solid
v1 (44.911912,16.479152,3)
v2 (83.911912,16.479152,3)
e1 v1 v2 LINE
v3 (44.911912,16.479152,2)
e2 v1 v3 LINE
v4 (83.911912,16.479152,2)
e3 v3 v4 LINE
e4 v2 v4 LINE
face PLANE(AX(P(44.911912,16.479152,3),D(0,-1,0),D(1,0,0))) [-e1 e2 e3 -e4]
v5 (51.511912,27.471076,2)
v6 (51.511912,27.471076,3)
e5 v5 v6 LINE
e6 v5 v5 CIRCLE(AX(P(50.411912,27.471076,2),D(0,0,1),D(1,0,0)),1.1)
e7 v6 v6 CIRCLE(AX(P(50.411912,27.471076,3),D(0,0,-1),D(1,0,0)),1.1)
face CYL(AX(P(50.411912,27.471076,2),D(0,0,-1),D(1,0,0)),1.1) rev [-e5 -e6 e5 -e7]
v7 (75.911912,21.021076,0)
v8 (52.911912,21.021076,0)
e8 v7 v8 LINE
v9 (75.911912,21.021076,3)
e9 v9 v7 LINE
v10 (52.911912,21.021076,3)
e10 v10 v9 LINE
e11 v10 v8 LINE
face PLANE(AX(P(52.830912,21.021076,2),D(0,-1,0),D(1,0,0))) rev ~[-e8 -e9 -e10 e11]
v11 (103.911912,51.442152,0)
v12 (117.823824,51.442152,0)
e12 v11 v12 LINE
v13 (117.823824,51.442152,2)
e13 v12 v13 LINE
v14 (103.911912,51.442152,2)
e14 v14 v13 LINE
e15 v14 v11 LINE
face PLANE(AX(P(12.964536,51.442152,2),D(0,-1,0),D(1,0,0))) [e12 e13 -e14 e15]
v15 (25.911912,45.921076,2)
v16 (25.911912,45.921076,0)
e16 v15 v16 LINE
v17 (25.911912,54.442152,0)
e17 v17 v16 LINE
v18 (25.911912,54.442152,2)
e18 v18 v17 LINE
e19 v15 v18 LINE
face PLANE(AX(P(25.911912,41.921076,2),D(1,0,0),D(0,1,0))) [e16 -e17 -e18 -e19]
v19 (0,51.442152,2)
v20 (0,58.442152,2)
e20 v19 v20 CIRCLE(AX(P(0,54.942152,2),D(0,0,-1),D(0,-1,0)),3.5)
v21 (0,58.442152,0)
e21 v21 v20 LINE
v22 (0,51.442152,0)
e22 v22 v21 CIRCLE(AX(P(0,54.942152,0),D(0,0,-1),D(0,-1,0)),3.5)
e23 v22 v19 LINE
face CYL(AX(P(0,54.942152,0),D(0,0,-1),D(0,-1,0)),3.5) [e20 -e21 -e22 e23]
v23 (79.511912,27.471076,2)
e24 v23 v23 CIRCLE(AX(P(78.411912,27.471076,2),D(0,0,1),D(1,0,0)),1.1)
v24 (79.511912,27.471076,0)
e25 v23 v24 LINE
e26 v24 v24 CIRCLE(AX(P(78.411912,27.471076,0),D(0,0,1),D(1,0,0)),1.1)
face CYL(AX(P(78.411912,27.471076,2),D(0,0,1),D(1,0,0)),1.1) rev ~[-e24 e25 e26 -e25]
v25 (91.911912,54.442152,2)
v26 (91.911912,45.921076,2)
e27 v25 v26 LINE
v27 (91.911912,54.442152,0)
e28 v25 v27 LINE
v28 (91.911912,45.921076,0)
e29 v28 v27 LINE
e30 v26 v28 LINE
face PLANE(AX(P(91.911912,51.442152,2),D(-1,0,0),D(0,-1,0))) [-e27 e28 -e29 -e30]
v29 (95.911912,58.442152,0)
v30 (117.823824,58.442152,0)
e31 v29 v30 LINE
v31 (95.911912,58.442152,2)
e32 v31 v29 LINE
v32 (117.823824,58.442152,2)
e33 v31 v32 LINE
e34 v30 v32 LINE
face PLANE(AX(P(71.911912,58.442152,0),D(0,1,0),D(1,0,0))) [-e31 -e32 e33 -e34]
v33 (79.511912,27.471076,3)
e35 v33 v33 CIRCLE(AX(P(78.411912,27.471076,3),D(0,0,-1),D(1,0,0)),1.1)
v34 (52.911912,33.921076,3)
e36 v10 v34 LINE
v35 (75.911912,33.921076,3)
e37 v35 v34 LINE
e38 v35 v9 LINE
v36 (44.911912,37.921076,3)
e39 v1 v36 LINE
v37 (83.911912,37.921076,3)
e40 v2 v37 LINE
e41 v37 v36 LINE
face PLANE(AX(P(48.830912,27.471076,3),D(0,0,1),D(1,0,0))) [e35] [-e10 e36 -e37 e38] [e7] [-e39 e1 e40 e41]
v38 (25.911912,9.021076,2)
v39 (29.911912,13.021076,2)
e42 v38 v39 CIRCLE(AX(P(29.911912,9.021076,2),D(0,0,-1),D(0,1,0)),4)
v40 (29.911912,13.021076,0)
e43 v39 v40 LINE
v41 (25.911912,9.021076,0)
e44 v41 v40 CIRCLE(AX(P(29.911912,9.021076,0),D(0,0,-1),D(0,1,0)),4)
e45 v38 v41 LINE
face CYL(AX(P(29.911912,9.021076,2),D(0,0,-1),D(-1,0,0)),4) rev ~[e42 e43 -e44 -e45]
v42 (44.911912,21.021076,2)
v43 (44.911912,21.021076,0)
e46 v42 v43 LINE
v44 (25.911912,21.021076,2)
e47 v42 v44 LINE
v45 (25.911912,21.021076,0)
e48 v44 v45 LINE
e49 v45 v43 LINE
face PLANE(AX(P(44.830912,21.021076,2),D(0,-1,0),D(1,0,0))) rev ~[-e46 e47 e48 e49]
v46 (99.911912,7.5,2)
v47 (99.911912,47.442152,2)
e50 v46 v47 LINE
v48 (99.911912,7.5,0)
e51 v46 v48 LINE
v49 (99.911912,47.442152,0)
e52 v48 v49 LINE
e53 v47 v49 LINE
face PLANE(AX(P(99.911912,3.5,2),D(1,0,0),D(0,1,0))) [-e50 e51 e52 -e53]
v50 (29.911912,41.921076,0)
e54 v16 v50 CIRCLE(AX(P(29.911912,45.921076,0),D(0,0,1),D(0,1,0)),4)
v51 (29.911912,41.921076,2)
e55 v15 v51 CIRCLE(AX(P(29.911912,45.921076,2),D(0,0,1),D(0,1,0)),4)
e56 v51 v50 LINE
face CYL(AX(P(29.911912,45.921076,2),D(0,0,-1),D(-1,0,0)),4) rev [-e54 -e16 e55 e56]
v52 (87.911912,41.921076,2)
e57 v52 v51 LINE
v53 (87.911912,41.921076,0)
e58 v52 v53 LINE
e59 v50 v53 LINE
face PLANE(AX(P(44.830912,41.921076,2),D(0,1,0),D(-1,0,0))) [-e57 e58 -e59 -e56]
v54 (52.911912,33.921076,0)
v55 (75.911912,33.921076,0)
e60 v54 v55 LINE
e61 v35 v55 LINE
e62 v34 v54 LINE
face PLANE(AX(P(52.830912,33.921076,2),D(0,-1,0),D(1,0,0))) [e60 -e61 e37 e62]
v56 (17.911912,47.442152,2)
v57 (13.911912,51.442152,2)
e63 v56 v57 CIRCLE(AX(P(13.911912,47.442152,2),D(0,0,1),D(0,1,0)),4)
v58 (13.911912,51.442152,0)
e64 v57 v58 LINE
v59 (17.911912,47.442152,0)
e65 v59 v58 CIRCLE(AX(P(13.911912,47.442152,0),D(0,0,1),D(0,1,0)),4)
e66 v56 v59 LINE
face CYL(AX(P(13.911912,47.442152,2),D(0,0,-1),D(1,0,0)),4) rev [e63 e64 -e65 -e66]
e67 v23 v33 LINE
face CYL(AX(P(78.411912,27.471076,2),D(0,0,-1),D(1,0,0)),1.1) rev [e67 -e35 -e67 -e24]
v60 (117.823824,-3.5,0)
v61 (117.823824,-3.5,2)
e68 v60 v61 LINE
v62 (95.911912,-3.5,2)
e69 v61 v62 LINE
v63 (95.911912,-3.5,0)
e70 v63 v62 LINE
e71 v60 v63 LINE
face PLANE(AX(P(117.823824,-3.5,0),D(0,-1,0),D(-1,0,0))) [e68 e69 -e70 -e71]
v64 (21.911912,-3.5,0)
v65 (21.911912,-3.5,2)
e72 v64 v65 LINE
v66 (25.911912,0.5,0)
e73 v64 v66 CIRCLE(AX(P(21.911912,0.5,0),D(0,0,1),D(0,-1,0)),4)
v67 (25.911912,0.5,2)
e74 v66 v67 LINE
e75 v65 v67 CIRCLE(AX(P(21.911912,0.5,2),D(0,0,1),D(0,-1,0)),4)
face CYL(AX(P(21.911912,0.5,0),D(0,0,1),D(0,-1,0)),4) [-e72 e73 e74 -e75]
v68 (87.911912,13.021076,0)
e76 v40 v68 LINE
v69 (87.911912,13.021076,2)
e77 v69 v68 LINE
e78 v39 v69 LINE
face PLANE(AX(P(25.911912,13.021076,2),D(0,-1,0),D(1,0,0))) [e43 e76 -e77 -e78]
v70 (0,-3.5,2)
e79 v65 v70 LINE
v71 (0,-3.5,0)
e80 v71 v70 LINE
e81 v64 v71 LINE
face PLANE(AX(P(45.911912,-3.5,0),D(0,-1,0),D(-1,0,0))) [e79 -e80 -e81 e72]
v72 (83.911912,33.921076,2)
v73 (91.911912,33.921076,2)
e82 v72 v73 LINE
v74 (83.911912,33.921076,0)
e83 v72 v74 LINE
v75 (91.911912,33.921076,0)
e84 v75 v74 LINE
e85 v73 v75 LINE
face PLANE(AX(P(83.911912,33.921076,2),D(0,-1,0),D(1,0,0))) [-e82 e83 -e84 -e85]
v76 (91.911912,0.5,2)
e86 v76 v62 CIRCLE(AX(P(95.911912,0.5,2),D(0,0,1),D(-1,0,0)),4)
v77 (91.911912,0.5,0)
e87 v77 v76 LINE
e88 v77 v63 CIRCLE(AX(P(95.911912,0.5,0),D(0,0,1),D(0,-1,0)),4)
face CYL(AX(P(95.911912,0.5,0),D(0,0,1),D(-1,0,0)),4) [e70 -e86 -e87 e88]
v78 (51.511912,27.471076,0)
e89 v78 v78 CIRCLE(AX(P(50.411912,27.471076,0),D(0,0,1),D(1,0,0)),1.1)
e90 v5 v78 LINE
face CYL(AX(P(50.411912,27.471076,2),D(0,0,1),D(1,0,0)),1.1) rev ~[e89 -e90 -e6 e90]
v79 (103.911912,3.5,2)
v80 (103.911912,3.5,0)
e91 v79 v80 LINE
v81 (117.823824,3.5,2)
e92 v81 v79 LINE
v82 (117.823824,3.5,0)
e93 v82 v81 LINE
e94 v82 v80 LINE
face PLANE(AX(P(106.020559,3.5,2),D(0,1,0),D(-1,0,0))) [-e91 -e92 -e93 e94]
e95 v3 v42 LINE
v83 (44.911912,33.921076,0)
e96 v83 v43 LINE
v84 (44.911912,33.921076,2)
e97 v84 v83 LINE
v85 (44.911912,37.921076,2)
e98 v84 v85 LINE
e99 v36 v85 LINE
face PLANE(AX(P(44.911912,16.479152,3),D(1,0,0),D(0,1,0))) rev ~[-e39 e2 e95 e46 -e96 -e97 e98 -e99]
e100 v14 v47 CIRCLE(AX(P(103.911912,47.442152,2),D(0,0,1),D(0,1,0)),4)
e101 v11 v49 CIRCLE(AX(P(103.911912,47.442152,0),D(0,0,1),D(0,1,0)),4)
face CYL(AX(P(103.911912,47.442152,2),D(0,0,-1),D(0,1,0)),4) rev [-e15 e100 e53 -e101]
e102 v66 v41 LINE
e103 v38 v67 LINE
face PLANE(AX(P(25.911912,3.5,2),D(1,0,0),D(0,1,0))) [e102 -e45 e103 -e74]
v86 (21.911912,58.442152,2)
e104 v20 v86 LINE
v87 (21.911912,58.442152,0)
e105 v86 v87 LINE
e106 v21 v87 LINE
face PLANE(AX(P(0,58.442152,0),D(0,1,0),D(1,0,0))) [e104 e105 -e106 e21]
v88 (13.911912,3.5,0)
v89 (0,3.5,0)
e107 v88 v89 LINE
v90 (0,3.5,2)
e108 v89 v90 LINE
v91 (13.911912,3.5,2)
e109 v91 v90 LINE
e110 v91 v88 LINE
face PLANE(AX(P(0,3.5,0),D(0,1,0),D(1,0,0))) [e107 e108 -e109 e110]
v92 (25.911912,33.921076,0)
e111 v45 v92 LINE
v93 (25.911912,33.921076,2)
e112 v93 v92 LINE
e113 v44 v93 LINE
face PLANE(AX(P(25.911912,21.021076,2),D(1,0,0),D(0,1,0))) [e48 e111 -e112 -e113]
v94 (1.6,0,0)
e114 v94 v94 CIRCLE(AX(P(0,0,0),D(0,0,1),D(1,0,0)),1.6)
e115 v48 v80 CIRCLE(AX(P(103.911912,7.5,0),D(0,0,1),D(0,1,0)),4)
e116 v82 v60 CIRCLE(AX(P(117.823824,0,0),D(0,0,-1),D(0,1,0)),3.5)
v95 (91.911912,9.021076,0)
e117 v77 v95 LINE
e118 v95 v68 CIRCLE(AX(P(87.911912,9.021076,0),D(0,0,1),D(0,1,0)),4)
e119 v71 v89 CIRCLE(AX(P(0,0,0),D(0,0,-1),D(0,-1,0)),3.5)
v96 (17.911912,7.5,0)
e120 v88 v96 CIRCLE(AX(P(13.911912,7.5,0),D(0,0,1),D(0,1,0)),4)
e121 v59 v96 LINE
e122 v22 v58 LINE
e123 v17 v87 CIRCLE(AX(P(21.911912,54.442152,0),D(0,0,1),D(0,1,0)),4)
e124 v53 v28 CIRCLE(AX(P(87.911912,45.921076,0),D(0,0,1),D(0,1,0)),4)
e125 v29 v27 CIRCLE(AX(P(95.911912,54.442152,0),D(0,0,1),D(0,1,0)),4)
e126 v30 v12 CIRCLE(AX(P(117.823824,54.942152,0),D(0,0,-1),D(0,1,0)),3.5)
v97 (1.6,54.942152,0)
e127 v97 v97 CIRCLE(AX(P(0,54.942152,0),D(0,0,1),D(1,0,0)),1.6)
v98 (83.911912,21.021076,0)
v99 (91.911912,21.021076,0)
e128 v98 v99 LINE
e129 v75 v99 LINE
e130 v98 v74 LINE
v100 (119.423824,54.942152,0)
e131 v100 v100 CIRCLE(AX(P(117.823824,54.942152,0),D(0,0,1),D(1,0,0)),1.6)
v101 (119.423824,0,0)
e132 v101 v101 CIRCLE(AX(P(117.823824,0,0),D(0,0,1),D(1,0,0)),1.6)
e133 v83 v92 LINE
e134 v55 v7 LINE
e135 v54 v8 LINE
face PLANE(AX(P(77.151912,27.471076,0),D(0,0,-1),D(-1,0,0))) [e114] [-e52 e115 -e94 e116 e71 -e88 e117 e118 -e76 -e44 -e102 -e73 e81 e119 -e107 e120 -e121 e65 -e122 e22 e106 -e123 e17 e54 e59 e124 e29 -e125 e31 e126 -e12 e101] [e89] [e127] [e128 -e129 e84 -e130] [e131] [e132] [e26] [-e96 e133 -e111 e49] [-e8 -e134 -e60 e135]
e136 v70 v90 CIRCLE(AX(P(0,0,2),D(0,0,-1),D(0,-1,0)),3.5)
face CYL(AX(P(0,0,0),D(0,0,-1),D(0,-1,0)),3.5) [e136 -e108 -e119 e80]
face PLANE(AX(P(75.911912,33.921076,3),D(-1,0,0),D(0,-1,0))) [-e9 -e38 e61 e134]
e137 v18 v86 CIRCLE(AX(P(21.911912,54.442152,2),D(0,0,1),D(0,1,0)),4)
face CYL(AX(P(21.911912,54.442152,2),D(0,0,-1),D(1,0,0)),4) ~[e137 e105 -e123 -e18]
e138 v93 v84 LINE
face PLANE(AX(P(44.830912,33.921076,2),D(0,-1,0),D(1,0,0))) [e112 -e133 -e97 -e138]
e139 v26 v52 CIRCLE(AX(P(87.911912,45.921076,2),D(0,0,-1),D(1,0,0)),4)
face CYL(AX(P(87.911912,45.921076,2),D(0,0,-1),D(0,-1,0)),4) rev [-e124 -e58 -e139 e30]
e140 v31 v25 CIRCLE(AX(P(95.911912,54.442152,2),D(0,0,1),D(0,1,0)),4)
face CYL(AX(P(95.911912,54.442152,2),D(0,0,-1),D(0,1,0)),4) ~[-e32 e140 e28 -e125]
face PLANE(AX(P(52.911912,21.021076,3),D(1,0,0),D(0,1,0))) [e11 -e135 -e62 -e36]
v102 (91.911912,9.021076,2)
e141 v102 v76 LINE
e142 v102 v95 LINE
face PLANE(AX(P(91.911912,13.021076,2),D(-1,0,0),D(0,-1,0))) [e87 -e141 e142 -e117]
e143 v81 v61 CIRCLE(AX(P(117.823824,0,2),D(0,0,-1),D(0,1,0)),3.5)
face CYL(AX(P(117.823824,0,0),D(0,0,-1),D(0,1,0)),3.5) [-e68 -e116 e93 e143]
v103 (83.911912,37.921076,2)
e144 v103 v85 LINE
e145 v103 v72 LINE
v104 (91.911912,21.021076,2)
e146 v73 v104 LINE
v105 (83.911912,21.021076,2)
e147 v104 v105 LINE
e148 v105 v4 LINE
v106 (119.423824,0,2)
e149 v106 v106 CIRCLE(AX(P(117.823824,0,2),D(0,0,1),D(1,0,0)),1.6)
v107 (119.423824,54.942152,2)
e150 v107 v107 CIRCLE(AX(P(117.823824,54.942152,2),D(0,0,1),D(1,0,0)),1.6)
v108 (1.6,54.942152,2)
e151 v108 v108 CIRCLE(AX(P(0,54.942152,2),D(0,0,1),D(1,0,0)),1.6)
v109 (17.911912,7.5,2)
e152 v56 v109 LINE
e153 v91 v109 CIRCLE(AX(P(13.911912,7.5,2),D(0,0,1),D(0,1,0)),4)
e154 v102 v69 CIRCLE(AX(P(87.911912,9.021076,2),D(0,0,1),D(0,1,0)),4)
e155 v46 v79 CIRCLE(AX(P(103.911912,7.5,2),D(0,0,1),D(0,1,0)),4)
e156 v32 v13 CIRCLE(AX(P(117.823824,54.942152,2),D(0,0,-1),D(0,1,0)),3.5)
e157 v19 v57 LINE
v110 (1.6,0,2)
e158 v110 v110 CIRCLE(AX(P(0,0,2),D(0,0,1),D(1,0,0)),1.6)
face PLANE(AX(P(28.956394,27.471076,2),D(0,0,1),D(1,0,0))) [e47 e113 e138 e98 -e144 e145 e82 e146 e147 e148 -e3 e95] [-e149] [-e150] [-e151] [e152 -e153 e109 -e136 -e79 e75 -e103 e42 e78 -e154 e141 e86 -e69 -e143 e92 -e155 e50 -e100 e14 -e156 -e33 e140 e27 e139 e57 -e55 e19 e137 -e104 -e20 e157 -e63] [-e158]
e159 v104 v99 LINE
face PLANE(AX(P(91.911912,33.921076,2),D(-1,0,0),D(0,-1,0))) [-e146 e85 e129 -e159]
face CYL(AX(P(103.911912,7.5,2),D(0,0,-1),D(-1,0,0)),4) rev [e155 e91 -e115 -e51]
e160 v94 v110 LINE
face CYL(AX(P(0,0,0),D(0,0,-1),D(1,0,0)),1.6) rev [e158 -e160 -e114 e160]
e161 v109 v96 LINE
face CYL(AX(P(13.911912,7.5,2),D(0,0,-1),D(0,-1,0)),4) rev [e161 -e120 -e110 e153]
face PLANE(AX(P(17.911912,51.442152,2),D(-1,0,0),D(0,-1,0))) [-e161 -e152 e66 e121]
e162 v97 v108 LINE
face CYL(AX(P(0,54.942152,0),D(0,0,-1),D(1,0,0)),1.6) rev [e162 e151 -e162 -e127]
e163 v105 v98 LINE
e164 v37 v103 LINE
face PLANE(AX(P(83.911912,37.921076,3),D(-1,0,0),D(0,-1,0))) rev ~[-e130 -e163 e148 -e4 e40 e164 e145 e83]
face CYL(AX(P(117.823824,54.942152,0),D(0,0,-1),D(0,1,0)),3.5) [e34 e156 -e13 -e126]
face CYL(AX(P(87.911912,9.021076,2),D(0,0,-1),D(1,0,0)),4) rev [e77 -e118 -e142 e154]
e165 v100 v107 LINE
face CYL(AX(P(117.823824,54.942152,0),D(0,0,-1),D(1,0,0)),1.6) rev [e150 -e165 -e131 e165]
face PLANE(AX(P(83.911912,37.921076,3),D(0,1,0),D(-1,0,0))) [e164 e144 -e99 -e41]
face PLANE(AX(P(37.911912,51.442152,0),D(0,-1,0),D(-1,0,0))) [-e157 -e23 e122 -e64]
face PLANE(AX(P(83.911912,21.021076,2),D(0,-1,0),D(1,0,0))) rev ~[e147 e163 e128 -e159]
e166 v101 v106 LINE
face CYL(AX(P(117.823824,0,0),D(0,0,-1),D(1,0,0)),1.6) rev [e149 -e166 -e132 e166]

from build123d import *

# Parameters (mm, degrees)
SKETCH1_R                = 1.6
SKETCH1_R_2              = 2.1
BOSS_EXTRUDE3_DEPTH      = 2
BOSS_EXTRUDE4_DEPTH      = 2
SKETCH4_W                = 66
SKETCH4_H                = 16.340111315
SKETCH4_H_2              = 24.741581589
CUT_EXTRUDE3_DEPTH       = 14.5
FILLET1_R                = 4
SKETCH5_W                = 26
SKETCH5_H                = 27
SKETCH5_R                = 6
BOSS_EXTRUDE5_DEPTH      = 2
SKETCH6_W                = 5
SKETCH6_H                = 27
CUT_EXTRUDE4_DEPTH       = 14.5
SKETCH7_R                = 2.5
BOSS_EXTRUDE6_DEPTH      = 2
SKETCH8_R                = 2.5
CUT_EXTRUDE5_DEPTH       = 10
SKETCH9_W                = 22.081
SKETCH9_H                = 27
CUT_EXTRUDE6_DEPTH       = 10
CUT_EXTRUDE7_DEPTH       = 10
SKETCH11_W               = 28.061
SKETCH11_H               = 7.05
BOSS_EXTRUDE7_DEPTH      = 2
SKETCH12_W               = 44.061
SKETCH12_H               = 28.9
CUT_EXTRUDE9_DEPTH       = 10
BOSS_EXTRUDE9_DEPTH      = 2
FILLET2_R                = 4
SKETCH14_R               = 2.5
SKETCH14_W               = 28.061
SKETCH14_H               = 12.9
BOSS_EXTRUDE10_DEPTH     = 1
SKETCH15_W               = 3
SKETCH15_H               = 12.9
BOSS_EXTRUDE11_DEPTH     = 2.5
SKETCH16_W               = 3
SKETCH16_H               = 12.9
BOSS_EXTRUDE12_DEPTH     = 2.5
SKETCH17_W               = 6
SKETCH17_H               = 12.9
CUT_EXTRUDE12_DEPTH      = 5.5
BOSS_EXTRUDE13_DEPTH     = 3
CUT_EXTRUDE13_DEPTH      = 1
SKETCH21_W               = 0.081
SKETCH21_H               = 12.9
SKETCH21_W_2             = 4.98
CUT_EXTRUDE14_DEPTH      = 5.5
SKETCH22_R               = 2.5
BOSS_EXTRUDE14_DEPTH     = 3
SKETCH23_R               = 1.1
CUT_EXTRUDE17_DEPTH      = 5.5
CUT_EXTRUDE17_DEPTH_BACK = 5.5


with BuildPart() as part:
    # Sketch1 → Boss-Extrude3 (new body)
    with BuildSketch(Plane.XY):
        with BuildLine():
            Line((0, 3.5), (37.911912125, 3.5))
            Line((37.911912125, 3.5), (37.911912125, 13.97107578))
            Line((37.911912125, 13.97107578), (37.911912125, 40.97107578))
            Line((37.911912125, 40.97107578), (37.911912125, 51.44215156))
            Line((37.911912125, 51.44215156), (0, 51.44215156))
            ThreePointArc((0, 51.44215156), (-3.5, 54.94215156), (0, 58.44215156))
            Line((0, 58.44215156), (45.911912125, 58.44215156))
            Line((45.911912125, 58.44215156), (45.911912125, 51.44215156))
            Line((45.911912125, 51.44215156), (45.911912125, 48.97107578))
            Line((45.911912125, 48.97107578), (50.911912125, 48.97107578))
            Line((50.911912125, 48.97107578), (66.911912125, 48.97107578))
            Line((66.911912125, 48.97107578), (71.911912125, 48.97107578))
            Line((71.911912125, 48.97107578), (71.911912125, 51.44215156))
            Line((71.911912125, 51.44215156), (71.911912125, 58.44215156))
            Line((71.911912125, 58.44215156), (117.82382425, 58.44215156))
            ThreePointArc((117.82382425, 58.44215156), (121.32382425, 54.94215156), (117.82382425, 51.44215156))
            Line((117.82382425, 51.44215156), (79.911912125, 51.44215156))
            Line((79.911912125, 51.44215156), (79.911912125, 40.97107578))
            Line((79.911912125, 40.97107578), (79.911912125, 13.97107578))
            Line((79.911912125, 13.97107578), (79.911912125, 3.5))
            Line((79.911912125, 3.5), (117.82382425, 3.5))
            ThreePointArc((117.82382425, 3.5), (121.32382425, 0), (117.82382425, -3.5))
            Line((117.82382425, -3.5), (71.911912125, -3.5))
            Line((71.911912125, -3.5), (71.911912125, 3.5))
            Line((71.911912125, 3.5), (71.911912125, 5.97107578))
            Line((71.911912125, 5.97107578), (66.911912125, 5.97107578))
            Line((66.911912125, 5.97107578), (50.911912125, 5.97107578))
            Line((50.911912125, 5.97107578), (45.911912125, 5.97107578))
            Line((45.911912125, 5.97107578), (45.911912125, 3.5))
            Line((45.911912125, 3.5), (45.911912125, -3.5))
            Line((45.911912125, -3.5), (0, -3.5))
            ThreePointArc((0, -3.5), (-3.5, 0), (0, 3.5))
        make_face()
        with Locations((0, 54.94215156)):
            Circle(SKETCH1_R, mode=Mode.SUBTRACT)
        with Locations((117.82382425, 54.94215156)):
            Circle(SKETCH1_R, mode=Mode.SUBTRACT)
        with Locations((117.82382425, 0)):
            Circle(SKETCH1_R, mode=Mode.SUBTRACT)
        Circle(SKETCH1_R, mode=Mode.SUBTRACT)
        with Locations((66.911912125, 44.97107578)):
            Circle(SKETCH1_R_2, mode=Mode.SUBTRACT)
        with Locations((66.911912125, 9.97107578)):
            Circle(SKETCH1_R_2, mode=Mode.SUBTRACT)
        with Locations((50.911912125, 9.97107578)):
            Circle(SKETCH1_R_2, mode=Mode.SUBTRACT)
        with Locations((50.911912125, 44.97107578)):
            Circle(SKETCH1_R_2, mode=Mode.SUBTRACT)
        Polygon((66.911912125, 40.97107578), (50.911912125, 40.97107578), (45.911912125, 40.97107578), (45.911912125, 27.47107578), (45.911912125, 13.97107578), (50.911912125, 13.97107578), (66.911912125, 13.97107578), (71.911912125, 13.97107578), (71.911912125, 27.47107578), (71.911912125, 40.97107578), align=None, mode=Mode.SUBTRACT)
    extrude(amount=BOSS_EXTRUDE3_DEPTH)

    # Sketch3 → Boss-Extrude4 (add)
    with BuildSketch(Plane.XY.offset(2)):
        Polygon((71.911912125, 13.97107578), (99.911912125, 13.97107578), (99.911912125, 3.5), (91.911912125, 3.5), (91.911912125, 5.97107578), (71.911912125, 5.97107578), align=None)
        Polygon((91.911912125, 51.44215156), (99.911912125, 51.44215156), (99.911912125, 40.97107578), (71.911912125, 40.97107578), (71.911912125, 48.97107578), (91.911912125, 48.97107578), align=None)
        Polygon((45.911912125, 40.97107578), (17.911912125, 40.97107578), (17.911912125, 51.44215156), (25.911912125, 51.44215156), (25.911912125, 48.97107578), (45.911912125, 48.97107578), align=None)
        Polygon((25.911912125, 3.5), (17.911912125, 3.5), (17.911912125, 13.97107578), (45.911912125, 13.97107578), (45.911912125, 5.97107578), (25.911912125, 5.97107578), align=None)
    extrude(amount=-BOSS_EXTRUDE4_DEPTH)

    # Sketch4 → Cut-Extrude3 (cut)
    with BuildSketch(Plane.XY.offset(2)):
        with Locations((58.911912125, 57.141131438)):
            Rectangle(SKETCH4_W, SKETCH4_H)
        with Locations((58.911912125, -6.399715014)):
            Rectangle(SKETCH4_W, SKETCH4_H_2)
    extrude(amount=-CUT_EXTRUDE3_DEPTH, mode=Mode.SUBTRACT)

    # Fillet1
    fillet1_edges = [part.edges().sort_by_distance(p)[0] for p in [
        (99.911912125, 13.97107578, 1),
        (99.911912125, 3.5, 1),
        (91.911912125, 5.97107578, 1),
        (91.911912125, 48.97107578, 1),
        (99.911912125, 51.44215156, 1),
        (99.911912125, 40.97107578, 1),
        (17.911912125, 40.97107578, 1),
        (17.911912125, 51.44215156, 1),
        (25.911912125, 48.97107578, 1),
        (25.911912125, 5.97107578, 1),
        (17.911912125, 3.5, 1),
        (17.911912125, 13.97107578, 1),
        (91.911912125, 58.44215156, 1),
        (25.911912125, 58.44215156, 1),
        (91.911912125, -3.5, 1),
        (25.911912125, -3.5, 1),
    ]]
    fillet(fillet1_edges, radius=FILLET1_R)

    # Sketch5 → Boss-Extrude5 (add)
    with BuildSketch(Plane.XY.offset(2)):
        with Locations((58.911912125, 27.47107578)):
            Rectangle(SKETCH5_W, SKETCH5_H)
        with Locations((58.911912125, 27.47107578)):
            Circle(SKETCH5_R, mode=Mode.SUBTRACT)
    extrude(amount=-BOSS_EXTRUDE5_DEPTH)

    # Sketch6 → Cut-Extrude4 (cut)
    with BuildSketch(Plane.XY.offset(2)):
        with Locations((40.411912125, 27.47107578)):
            Rectangle(SKETCH6_W, SKETCH6_H)
        with Locations((77.411912125, 27.47107578)):
            Rectangle(SKETCH6_W, SKETCH6_H)
    extrude(amount=-CUT_EXTRUDE4_DEPTH, mode=Mode.SUBTRACT)

    # Sketch7 → Boss-Extrude6 (add)
    with BuildSketch(Plane.XY.offset(2)):
        Polygon((80.891912125, 27.47107578), (80.891912125, 40.97107578), (88.891912125, 40.97107578), (88.891912125, 27.47107578), (88.891912125, 13.97107578), (80.891912125, 13.97107578), align=None)
        with Locations((84.891912125, 27.47107578)):
            Circle(SKETCH7_R, mode=Mode.SUBTRACT)
    extrude(amount=-BOSS_EXTRUDE6_DEPTH)

    # Sketch8 → Cut-Extrude5 (cut)
    with BuildSketch(Plane.XY.offset(2)):
        with Locations((48.830912125, 27.47107578)):
            Circle(SKETCH8_R)
    extrude(amount=-CUT_EXTRUDE5_DEPTH, mode=Mode.SUBTRACT)

    # Sketch9 → Cut-Extrude6 (cut)
    with BuildSketch(Plane.XY.offset(2)):
        Polygon((42.911912125, 40.97107578), (44.830912125, 40.97107578), (44.830912125, 27.47107578), (44.830912125, 13.97107578), (42.911912125, 13.97107578), align=None)
        with Locations((63.871412125, 27.47107578)):
            Rectangle(SKETCH9_W, SKETCH9_H)
    extrude(amount=-CUT_EXTRUDE6_DEPTH, mode=Mode.SUBTRACT)

    # Sketch10 → Cut-Extrude7 (cut)
    with BuildSketch(Plane.XY.offset(2)):
        Polygon((44.830912125, 13.97107578), (44.830912125, 13.02107578), (88.891912125, 13.02107578), (88.891912125, 13.97107578), (106.020559472, 13.97107578), (106.020559472, 3.5), (12.964535502, 3.5), (12.964535502, 13.97107578), align=None)
        Polygon((88.891912125, 40.97107578), (88.891912125, 41.92107578), (44.830912125, 41.92107578), (44.830912125, 40.97107578), (12.964535502, 40.97107578), (12.964535502, 51.44215156), (106.020559472, 51.44215156), (106.020559472, 40.97107578), align=None)
    extrude(amount=-CUT_EXTRUDE7_DEPTH, mode=Mode.SUBTRACT)

    # Sketch11 → Boss-Extrude7 (add)
    with BuildSketch(Plane.XY.offset(2)):
        with Locations((66.861412125, 37.44607578)):
            Rectangle(SKETCH11_W, SKETCH11_H)
        with Locations((66.861412125, 17.49607578)):
            Rectangle(SKETCH11_W, SKETCH11_H)
    extrude(amount=-BOSS_EXTRUDE7_DEPTH)

    # Sketch12 → Cut-Extrude9 (cut)
    with BuildSketch(Plane.XY.offset(2)):
        Polygon((25.911912125, 1.23553789), (25.911912125, 54.44215156), (91.911912125, 54.44215156), (91.911912125, 0.5), align=None)
        with Locations((66.861412125, 27.47107578)):
            Rectangle(SKETCH12_W, SKETCH12_H, mode=Mode.SUBTRACT)
    extrude(amount=-CUT_EXTRUDE9_DEPTH, mode=Mode.SUBTRACT)

    # Sketch13 → Boss-Extrude9 (add)
    with BuildSketch(Plane.XY.offset(2)):
        Polygon((17.911912125, 3.5), (25.911912125, 3.5), (25.911912125, 13.02107578), (44.830912125, 13.02107578), (44.830912125, 21.02107578), (25.911912125, 21.02107578), (25.911912125, 33.92107578), (44.830912125, 33.92107578), (44.830912125, 41.92107578), (25.911912125, 41.92107578), (25.911912125, 51.44215156), (17.911912125, 51.44215156), (17.911912125, 13.02107578), align=None)
        Polygon((99.911912125, 51.44215156), (91.911912125, 51.44215156), (91.911912125, 41.92107578), (88.891912125, 41.92107578), (88.891912125, 33.92107578), (91.911912125, 33.92107578), (91.911912125, 21.02107578), (88.891912125, 21.02107578), (88.891912125, 13.02107578), (91.911912125, 13.02107578), (91.911912125, 3.5), (99.911912125, 3.5), (99.911912125, 41.92107578), align=None)
    extrude(amount=-BOSS_EXTRUDE9_DEPTH)

    # Fillet2
    fillet2_edges = [part.edges().sort_by_distance(p)[0] for p in [
        (99.911912125, 51.44215156, 1),
        (99.911912125, 3.5, 1),
        (91.911912125, 13.02107578, 1),
        (91.911912125, 41.92107578, 1),
        (25.911912125, 13.02107578, 1),
        (17.911912125, 3.5, 1),
        (17.911912125, 51.44215156, 1),
        (25.911912125, 41.92107578, 1),
    ]]
    fillet(fillet2_edges, radius=FILLET2_R)

    # Sketch14 → Boss-Extrude10 (add)
    with BuildSketch(Plane.XY.offset(2)):
        Polygon((44.830912125, 33.92107578), (44.830912125, 37.92107578), (88.891912125, 37.92107578), (88.891912125, 33.92107578), (88.891912125, 21.02107578), (88.891912125, 16.479152283), (44.830912125, 16.479152283), (44.830912125, 21.02107578), align=None)
        with Locations((48.830912125, 27.47107578)):
            Circle(SKETCH14_R, mode=Mode.SUBTRACT)
        with Locations((84.891912125, 27.47107578)):
            Circle(SKETCH14_R, mode=Mode.SUBTRACT)
        with Locations((66.861412125, 27.47107578)):
            Rectangle(SKETCH14_W, SKETCH14_H, mode=Mode.SUBTRACT)
    extrude(amount=BOSS_EXTRUDE10_DEPTH)

    # Sketch15 → Boss-Extrude11 (add)
    with BuildSketch(Plane(origin=(52.830912125, 0, 0), x_dir=(0, 0, -1), z_dir=(1, 0, 0))):
        with Locations((-1.5, 27.47107578)):
            Rectangle(SKETCH15_W, SKETCH15_H)
    extrude(amount=BOSS_EXTRUDE11_DEPTH)

    # Sketch16 → Boss-Extrude12 (add)
    with BuildSketch(Plane.ZY.offset(-80.891912125)):
        with Locations((1.5, 27.47107578)):
            Rectangle(SKETCH16_W, SKETCH16_H)
    extrude(amount=BOSS_EXTRUDE12_DEPTH)

    # Sketch17 → Cut-Extrude12 (cut)
    with BuildSketch(Plane.XY.offset(3)):
        with Locations((55.911912125, 27.47107578)):
            Rectangle(SKETCH17_W, SKETCH17_H)
    extrude(amount=-CUT_EXTRUDE12_DEPTH, mode=Mode.SUBTRACT)

    # Sketch19 → Boss-Extrude13 (add)
    with BuildSketch(Plane.XY.offset(3)):
        Polygon((75.911912125, 27.47107578), (75.911912125, 33.92107578), (78.391912125, 33.92107578), (78.391912125, 21.02107578), (75.911912125, 21.02107578), align=None)
    extrude(amount=-BOSS_EXTRUDE13_DEPTH)

    # Sketch20 → Cut-Extrude13 (cut)
    with BuildSketch(Plane.XY.offset(3)):
        Polygon((37.503218373, 44.973204348), (36.040097649, -4.597325781), (97.140019083, -2.256332623), (103.870374413, 35.726281372), (82.918485646, 46.904523704), align=None)
        Polygon((83.911912125, 27.47107578), (83.911912125, 37.92107578), (44.911912125, 37.92107578), (44.911912125, 27.47107578), (44.911912125, 16.479152283), (83.911912125, 16.479152283), align=None, mode=Mode.SUBTRACT)
    extrude(amount=-CUT_EXTRUDE13_DEPTH, mode=Mode.SUBTRACT)

    # Sketch21 → Cut-Extrude14 (cut)
    with BuildSketch(Plane.XY.offset(2)):
        with Locations((44.871412125, 27.47107578)):
            Rectangle(SKETCH21_W, SKETCH21_H)
        with Locations((86.401912125, 27.47107578)):
            Rectangle(SKETCH21_W_2, SKETCH21_H)
    extrude(amount=-CUT_EXTRUDE14_DEPTH, mode=Mode.SUBTRACT)

    # Sketch22 → Boss-Extrude14 (add)
    with BuildSketch(Plane.XY.offset(3)):
        with Locations((48.830912125, 27.47107578)):
            Circle(SKETCH22_R)
        Polygon((83.911912125, 25.171162738), (83.911912125, 29.770988822), (78.292126648, 33.292249077), (79.181354054, 24.086130054), align=None)
    extrude(amount=-BOSS_EXTRUDE14_DEPTH)

    # Sketch23 → Cut-Extrude17 (cut, two sides)
    with BuildSketch(Plane.XY.offset(2)) as cut_extrude17_sk:
        with Locations((50.411912125, 27.47107578)):
            Circle(SKETCH23_R)
        with Locations((78.411912125, 27.47107578)):
            Circle(SKETCH23_R)
    extrude(amount=CUT_EXTRUDE17_DEPTH, mode=Mode.SUBTRACT)
    extrude(cut_extrude17_sk.sketch, amount=-CUT_EXTRUDE17_DEPTH_BACK, mode=Mode.SUBTRACT)


solid = part.part
